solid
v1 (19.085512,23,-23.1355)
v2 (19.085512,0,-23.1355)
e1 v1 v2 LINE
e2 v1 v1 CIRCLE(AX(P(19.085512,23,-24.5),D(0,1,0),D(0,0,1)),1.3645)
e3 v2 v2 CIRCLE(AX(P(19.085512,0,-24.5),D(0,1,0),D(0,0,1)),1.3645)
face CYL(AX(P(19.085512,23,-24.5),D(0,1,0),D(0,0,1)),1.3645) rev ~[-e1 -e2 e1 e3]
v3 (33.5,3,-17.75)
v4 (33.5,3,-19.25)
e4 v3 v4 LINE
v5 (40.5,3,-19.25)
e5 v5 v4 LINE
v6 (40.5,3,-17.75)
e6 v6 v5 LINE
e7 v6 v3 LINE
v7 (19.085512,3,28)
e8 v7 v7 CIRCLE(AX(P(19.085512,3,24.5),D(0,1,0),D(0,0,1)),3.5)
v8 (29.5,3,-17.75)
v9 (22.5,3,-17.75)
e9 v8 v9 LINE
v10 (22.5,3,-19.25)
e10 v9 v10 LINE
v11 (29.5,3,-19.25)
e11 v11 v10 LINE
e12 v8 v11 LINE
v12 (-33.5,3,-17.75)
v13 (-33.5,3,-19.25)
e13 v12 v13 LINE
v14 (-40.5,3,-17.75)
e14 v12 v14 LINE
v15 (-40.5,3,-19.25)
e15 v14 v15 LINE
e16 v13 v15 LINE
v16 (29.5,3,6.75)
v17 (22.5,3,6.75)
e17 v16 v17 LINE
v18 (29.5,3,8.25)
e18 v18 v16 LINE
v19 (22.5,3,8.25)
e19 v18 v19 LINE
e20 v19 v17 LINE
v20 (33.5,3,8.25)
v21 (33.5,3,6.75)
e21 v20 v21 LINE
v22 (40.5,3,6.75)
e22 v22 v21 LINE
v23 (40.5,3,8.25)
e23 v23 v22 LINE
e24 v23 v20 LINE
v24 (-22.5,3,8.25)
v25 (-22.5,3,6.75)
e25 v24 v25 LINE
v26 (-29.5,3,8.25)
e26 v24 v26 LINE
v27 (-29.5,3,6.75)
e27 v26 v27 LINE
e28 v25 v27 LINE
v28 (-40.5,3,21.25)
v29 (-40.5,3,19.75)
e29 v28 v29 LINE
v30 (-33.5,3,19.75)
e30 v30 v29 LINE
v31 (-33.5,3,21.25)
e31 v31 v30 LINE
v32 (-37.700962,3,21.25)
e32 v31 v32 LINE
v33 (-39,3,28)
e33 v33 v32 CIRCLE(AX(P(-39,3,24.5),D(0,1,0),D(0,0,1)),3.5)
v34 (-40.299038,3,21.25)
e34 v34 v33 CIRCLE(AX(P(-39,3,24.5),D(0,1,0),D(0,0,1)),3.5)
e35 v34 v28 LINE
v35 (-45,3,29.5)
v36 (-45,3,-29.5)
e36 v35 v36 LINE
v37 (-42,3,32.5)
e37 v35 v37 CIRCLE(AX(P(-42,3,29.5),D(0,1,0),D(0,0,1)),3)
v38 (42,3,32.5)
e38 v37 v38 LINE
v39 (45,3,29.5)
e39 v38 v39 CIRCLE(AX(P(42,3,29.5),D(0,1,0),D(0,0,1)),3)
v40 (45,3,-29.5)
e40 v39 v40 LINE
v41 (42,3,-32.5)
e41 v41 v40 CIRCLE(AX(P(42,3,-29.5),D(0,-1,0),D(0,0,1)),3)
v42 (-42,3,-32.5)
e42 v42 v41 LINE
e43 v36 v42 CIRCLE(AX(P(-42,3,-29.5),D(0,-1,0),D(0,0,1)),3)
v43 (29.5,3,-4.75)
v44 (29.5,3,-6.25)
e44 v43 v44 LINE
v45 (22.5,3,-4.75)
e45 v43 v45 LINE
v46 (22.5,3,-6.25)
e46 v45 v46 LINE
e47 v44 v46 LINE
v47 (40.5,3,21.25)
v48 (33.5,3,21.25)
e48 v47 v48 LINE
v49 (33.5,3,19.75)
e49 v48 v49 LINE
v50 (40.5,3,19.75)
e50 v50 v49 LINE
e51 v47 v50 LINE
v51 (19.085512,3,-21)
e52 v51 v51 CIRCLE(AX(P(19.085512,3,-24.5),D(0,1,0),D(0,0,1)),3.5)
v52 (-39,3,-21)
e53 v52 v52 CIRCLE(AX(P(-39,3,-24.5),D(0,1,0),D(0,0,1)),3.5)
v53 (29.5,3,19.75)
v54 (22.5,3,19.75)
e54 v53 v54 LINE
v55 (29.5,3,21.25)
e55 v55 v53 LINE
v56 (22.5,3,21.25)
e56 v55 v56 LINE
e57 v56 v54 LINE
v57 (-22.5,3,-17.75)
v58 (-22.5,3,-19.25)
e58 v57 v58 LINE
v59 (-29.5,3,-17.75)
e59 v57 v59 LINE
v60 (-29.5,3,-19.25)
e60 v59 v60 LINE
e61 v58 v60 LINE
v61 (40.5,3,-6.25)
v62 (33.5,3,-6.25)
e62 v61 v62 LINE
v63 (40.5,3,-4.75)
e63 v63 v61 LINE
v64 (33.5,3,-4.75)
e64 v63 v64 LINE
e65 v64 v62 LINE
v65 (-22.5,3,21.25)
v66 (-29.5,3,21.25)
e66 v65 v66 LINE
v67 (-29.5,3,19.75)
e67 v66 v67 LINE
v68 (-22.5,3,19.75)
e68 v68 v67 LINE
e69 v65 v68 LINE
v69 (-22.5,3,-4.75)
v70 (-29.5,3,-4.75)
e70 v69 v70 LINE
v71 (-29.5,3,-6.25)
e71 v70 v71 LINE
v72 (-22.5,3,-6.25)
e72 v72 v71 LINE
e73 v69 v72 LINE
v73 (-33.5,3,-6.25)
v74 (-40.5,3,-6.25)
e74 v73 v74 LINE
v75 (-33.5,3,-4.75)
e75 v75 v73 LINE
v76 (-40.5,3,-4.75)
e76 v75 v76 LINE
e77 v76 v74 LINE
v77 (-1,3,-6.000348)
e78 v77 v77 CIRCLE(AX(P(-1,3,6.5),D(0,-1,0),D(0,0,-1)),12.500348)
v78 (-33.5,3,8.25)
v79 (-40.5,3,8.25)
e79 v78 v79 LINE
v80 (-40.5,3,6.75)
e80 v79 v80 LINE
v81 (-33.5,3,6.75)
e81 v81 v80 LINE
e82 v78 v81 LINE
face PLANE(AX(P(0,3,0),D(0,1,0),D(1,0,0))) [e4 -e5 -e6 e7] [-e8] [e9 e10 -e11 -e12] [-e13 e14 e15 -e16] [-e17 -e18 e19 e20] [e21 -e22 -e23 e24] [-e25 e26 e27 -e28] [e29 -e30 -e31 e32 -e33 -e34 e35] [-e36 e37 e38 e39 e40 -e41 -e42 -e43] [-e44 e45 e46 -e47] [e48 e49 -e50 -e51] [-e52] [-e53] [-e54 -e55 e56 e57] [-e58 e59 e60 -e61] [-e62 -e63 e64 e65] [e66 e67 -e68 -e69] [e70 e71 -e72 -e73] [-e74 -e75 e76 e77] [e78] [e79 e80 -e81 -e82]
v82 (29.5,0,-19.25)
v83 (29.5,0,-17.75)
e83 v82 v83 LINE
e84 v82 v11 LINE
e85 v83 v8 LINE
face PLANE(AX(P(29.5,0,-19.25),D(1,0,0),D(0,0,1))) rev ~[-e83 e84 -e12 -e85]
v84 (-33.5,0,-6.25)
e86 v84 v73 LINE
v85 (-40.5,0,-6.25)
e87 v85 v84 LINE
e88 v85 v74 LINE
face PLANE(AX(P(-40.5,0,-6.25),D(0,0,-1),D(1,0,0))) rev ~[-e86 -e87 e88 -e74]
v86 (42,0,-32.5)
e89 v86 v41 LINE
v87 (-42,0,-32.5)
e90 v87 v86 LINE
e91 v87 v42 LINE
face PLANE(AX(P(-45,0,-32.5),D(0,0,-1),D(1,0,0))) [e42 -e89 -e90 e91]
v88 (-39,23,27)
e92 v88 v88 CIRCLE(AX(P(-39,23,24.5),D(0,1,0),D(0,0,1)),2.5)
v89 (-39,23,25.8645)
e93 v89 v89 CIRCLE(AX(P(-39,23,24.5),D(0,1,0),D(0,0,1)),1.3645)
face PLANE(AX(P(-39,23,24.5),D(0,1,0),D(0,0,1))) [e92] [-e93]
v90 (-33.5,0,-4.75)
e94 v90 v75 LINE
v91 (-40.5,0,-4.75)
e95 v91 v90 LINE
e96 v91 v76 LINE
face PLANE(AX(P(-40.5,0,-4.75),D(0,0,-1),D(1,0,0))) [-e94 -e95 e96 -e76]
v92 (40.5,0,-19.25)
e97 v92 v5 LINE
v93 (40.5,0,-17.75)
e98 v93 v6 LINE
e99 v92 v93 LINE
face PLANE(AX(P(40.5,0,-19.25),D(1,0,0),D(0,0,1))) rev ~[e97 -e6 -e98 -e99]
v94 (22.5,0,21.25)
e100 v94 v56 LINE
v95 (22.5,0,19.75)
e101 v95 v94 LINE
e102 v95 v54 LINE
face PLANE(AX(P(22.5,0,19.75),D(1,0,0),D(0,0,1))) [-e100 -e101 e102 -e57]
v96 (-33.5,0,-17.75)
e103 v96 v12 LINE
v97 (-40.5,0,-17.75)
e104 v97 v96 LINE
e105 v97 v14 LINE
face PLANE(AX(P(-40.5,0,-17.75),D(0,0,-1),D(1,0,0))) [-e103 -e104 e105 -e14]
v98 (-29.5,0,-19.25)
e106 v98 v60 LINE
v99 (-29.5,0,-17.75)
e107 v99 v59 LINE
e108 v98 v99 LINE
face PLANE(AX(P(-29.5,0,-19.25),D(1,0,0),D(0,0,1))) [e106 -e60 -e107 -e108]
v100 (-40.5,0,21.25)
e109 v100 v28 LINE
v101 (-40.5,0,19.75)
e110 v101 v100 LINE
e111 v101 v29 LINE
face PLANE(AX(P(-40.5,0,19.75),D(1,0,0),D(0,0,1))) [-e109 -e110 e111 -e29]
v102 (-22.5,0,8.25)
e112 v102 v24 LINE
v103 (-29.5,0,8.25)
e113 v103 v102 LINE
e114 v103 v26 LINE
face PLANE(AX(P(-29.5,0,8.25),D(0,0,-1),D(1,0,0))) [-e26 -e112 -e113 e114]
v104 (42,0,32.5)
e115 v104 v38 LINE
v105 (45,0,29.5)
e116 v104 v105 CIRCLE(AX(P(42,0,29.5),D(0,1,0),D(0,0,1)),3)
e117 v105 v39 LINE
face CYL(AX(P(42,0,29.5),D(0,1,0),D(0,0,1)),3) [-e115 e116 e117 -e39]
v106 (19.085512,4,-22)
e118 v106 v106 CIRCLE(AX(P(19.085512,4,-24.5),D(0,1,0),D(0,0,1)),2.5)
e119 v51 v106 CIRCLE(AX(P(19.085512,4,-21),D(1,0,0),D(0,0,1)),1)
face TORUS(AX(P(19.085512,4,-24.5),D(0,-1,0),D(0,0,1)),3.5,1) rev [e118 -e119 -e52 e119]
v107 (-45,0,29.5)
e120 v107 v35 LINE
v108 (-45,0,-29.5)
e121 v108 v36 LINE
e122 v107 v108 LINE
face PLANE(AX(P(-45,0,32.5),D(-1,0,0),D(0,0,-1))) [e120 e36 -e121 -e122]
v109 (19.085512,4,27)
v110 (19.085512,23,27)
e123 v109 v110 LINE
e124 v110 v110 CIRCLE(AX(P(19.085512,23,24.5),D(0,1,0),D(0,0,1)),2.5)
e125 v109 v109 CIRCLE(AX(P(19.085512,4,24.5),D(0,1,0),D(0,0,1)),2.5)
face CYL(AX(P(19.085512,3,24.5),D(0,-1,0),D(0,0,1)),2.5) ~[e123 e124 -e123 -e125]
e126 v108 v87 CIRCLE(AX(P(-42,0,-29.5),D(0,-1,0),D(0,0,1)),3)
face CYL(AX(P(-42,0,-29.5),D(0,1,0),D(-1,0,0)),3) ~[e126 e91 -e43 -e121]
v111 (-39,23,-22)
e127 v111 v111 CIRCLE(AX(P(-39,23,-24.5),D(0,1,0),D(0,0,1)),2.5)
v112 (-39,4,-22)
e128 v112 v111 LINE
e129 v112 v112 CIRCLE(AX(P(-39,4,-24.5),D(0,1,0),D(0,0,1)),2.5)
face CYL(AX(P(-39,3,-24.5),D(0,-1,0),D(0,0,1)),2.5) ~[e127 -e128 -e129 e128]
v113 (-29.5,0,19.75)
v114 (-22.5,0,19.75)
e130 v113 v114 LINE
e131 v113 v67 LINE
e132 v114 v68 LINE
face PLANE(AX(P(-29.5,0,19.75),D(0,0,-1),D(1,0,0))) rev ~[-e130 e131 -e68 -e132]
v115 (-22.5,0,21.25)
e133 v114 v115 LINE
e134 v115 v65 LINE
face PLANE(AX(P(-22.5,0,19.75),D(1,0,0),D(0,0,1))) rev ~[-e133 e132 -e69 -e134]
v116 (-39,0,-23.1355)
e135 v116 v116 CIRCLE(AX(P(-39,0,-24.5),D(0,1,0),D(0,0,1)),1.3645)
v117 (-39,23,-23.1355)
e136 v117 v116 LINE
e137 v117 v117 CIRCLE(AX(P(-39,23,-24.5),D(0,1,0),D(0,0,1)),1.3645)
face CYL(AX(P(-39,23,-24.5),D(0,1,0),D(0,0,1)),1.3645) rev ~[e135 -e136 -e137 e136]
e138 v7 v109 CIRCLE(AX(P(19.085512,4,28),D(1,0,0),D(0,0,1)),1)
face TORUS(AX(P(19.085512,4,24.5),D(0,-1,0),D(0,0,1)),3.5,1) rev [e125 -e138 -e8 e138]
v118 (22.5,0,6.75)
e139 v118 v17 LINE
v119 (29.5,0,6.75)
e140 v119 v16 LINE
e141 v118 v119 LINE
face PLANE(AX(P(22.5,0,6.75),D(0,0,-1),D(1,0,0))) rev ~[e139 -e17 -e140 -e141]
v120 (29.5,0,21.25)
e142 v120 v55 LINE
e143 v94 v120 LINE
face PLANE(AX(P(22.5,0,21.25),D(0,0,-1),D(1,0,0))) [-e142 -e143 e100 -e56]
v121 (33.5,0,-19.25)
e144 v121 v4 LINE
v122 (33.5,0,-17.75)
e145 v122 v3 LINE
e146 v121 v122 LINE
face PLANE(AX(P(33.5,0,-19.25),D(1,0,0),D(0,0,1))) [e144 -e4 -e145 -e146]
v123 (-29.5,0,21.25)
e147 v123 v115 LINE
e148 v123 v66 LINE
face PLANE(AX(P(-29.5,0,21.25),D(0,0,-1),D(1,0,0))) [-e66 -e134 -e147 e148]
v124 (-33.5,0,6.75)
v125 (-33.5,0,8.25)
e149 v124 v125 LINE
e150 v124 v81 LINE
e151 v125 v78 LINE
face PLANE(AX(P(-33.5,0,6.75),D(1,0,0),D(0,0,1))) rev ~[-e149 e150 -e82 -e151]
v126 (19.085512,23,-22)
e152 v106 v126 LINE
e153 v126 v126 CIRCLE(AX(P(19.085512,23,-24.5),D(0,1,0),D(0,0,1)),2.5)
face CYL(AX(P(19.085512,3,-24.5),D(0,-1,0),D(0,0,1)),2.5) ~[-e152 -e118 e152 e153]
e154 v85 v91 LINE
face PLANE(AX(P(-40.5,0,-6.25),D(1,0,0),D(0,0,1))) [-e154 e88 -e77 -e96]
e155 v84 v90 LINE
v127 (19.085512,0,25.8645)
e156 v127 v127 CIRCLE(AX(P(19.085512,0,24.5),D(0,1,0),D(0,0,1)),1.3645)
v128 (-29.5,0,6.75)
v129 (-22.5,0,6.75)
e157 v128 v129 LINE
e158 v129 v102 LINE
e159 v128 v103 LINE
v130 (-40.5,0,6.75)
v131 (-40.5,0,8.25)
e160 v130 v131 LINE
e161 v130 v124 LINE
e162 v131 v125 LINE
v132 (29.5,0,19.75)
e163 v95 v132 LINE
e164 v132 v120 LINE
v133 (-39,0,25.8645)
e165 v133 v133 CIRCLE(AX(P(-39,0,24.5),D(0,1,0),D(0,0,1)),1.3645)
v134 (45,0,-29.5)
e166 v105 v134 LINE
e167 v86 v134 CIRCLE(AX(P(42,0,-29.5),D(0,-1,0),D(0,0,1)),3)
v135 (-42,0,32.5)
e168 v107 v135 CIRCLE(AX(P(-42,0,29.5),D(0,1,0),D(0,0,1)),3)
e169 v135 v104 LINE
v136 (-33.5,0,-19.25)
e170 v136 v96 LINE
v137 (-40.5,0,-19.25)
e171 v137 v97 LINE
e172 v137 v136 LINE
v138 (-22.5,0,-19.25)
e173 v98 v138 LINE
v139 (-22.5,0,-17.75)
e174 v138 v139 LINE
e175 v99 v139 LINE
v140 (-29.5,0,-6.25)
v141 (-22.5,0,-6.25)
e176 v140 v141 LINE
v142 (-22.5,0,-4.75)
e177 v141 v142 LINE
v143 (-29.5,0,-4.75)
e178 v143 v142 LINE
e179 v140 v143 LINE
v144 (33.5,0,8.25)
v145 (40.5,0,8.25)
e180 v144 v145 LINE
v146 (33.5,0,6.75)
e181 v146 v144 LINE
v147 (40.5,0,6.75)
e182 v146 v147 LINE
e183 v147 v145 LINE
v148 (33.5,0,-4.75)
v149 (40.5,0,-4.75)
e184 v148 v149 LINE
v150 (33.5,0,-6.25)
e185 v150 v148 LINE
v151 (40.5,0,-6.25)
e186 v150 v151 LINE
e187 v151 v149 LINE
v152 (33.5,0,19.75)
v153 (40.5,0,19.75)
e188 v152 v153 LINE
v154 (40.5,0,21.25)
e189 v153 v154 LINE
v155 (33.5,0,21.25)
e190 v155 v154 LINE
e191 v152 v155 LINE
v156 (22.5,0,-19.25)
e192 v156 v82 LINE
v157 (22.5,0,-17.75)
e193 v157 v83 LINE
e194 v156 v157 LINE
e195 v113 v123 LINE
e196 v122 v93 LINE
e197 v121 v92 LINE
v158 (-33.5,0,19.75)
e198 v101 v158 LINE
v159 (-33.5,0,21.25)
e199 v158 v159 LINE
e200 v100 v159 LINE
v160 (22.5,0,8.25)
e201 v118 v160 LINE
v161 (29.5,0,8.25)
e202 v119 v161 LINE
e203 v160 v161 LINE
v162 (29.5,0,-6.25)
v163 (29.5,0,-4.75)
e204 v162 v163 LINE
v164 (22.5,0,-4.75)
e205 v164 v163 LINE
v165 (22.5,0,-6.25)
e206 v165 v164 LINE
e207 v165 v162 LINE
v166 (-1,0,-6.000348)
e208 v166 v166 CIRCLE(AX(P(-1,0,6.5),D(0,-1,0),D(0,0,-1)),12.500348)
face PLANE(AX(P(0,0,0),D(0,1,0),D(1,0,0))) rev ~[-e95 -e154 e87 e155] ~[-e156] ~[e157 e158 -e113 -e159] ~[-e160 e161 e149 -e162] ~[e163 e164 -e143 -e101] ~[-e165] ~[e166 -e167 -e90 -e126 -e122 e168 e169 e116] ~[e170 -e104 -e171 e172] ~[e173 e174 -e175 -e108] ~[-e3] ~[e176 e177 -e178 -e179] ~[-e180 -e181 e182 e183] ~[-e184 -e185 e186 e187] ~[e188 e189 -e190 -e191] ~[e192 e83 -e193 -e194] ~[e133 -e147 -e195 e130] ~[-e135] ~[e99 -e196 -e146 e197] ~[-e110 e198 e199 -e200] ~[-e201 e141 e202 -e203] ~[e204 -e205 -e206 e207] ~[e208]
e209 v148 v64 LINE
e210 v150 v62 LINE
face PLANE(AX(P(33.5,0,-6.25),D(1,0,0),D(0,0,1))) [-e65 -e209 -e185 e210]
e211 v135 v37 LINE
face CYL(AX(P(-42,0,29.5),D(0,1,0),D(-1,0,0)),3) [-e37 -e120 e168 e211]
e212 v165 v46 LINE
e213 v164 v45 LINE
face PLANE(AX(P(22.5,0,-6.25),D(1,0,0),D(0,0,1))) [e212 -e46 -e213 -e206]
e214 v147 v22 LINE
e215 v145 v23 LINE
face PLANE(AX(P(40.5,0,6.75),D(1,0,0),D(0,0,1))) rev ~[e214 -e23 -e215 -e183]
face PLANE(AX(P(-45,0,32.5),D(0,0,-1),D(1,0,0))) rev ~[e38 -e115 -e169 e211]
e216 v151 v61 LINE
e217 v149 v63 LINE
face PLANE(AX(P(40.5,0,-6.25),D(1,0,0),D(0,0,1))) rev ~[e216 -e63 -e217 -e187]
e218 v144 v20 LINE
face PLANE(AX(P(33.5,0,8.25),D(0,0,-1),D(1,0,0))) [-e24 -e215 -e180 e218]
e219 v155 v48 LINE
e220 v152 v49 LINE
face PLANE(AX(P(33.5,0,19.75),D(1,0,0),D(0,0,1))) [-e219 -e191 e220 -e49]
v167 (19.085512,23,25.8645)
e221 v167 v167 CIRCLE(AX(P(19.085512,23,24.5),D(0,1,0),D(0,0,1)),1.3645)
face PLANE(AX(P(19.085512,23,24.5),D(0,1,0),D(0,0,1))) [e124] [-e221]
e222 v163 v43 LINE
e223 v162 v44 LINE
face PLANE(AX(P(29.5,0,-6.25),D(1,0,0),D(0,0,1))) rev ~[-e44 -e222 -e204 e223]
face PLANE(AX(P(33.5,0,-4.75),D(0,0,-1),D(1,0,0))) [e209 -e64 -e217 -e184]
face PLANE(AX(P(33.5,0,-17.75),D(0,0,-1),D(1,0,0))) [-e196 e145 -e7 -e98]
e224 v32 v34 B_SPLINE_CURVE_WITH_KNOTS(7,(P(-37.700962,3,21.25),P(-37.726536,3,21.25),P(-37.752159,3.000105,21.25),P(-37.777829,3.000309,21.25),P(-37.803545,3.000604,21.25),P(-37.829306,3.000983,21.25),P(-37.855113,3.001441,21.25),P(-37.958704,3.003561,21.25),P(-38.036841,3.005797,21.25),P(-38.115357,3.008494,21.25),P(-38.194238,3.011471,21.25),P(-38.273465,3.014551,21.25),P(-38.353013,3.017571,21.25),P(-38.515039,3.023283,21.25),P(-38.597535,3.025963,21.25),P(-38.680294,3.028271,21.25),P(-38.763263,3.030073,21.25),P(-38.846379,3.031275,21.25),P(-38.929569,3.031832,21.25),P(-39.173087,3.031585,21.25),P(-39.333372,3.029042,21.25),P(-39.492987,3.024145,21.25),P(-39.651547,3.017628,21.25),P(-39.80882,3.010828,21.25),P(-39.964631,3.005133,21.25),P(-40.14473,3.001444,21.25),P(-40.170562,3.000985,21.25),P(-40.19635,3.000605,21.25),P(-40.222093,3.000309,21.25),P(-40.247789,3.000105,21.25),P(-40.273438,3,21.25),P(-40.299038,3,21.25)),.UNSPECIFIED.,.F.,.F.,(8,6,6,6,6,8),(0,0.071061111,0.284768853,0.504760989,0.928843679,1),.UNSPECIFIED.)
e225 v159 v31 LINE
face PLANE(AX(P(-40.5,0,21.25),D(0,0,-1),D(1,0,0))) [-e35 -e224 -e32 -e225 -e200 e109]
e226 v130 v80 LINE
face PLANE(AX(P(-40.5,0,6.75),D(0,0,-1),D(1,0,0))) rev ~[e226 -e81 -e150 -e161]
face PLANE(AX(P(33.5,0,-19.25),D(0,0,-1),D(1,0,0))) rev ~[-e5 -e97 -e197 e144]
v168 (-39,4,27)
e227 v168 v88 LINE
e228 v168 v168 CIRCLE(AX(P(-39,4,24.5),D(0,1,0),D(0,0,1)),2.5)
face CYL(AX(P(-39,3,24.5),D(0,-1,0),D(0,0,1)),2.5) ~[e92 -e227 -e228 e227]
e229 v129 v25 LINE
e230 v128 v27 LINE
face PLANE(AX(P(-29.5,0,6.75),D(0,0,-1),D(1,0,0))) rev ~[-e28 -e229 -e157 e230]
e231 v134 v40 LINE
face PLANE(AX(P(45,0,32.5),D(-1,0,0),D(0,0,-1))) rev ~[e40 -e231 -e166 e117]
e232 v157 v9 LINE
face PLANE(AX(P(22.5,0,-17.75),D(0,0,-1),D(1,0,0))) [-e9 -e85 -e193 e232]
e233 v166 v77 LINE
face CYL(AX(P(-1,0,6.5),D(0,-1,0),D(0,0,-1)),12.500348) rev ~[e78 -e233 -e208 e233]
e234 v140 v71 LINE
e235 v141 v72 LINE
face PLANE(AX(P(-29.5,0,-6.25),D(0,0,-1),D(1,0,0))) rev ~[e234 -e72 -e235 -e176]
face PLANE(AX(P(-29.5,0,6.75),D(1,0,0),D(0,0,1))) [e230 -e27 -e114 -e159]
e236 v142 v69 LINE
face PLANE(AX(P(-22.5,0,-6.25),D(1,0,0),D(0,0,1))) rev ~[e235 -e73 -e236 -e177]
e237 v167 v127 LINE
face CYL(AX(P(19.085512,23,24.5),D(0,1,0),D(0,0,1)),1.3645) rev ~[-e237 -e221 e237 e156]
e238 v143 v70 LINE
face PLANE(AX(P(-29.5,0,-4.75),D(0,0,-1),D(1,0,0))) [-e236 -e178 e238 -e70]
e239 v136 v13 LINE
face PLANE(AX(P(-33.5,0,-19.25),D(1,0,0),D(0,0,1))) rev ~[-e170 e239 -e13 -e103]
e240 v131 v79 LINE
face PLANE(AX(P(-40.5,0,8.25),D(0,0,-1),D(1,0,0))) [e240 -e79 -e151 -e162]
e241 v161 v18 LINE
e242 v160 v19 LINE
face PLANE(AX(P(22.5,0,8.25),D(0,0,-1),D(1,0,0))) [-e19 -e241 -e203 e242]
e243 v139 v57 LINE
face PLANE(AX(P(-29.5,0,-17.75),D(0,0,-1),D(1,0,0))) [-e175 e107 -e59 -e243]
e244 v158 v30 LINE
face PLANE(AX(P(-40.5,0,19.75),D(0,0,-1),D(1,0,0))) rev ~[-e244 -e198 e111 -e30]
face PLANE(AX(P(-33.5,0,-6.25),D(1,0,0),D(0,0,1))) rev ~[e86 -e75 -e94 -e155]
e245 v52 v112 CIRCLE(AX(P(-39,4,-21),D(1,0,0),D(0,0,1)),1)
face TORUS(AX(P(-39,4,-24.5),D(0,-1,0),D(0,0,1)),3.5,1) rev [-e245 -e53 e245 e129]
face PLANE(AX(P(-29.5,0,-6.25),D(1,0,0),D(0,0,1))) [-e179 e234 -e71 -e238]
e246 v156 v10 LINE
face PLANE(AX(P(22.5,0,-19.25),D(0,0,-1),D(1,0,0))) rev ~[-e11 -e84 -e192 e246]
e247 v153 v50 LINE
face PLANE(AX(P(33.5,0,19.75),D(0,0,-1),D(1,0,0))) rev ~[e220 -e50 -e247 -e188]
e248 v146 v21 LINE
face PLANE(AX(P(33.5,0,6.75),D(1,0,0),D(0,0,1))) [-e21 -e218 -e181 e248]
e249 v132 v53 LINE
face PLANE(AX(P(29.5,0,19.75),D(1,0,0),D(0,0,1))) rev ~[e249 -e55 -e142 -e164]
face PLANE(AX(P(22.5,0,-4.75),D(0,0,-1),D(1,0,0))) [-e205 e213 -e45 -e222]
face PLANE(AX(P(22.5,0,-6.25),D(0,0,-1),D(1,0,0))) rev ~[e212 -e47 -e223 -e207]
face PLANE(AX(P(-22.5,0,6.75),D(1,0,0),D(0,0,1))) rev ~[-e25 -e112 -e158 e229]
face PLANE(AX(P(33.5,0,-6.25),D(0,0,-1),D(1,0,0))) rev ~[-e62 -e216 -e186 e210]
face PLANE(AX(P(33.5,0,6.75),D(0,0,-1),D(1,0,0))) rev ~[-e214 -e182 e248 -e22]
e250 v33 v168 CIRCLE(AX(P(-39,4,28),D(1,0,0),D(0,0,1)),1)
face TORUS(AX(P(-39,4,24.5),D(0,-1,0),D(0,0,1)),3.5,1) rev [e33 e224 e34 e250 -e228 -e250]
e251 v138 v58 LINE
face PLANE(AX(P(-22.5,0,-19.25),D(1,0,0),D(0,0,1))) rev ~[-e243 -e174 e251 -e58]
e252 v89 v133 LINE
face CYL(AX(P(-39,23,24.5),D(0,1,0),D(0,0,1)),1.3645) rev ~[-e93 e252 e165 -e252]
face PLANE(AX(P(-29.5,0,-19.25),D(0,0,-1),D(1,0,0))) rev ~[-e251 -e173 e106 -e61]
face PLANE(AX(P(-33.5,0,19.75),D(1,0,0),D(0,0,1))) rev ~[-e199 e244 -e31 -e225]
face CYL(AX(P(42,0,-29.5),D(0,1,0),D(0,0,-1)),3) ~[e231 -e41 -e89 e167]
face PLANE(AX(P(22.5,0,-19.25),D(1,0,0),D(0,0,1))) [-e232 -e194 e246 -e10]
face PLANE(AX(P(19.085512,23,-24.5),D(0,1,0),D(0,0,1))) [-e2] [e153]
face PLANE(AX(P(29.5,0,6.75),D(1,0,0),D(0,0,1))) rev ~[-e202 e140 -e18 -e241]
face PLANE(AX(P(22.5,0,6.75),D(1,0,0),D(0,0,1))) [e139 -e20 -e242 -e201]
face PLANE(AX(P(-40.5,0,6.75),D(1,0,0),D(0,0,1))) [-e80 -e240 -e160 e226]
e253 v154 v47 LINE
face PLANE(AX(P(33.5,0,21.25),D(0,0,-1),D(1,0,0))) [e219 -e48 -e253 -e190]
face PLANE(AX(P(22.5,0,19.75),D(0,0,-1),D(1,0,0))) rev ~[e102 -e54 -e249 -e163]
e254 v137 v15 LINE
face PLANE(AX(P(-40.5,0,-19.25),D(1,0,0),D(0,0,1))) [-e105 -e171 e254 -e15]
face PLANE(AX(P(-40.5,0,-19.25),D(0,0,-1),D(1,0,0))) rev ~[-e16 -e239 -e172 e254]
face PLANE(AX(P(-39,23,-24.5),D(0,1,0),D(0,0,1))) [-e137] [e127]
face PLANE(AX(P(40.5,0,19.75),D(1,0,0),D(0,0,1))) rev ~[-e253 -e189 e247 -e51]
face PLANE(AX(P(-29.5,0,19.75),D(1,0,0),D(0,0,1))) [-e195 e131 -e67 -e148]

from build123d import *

# Parameters (mm, degrees)
SKIZZE1_W                       = 90
SKIZZE1_H                       = 65
AUFSATZ_LINEAR_AUSTRAGEN1_DEPTH = 3
SKIZZE3_R                       = 2.5
AUFSATZ_LINEAR_AUSTRAGEN2_DEPTH = 20
SKIZZE4_R                       = 1.364499713
SCHNITT_LINEAR_AUSTRAGEN2_DEPTH = 61.085355953
VERRUNDUNG1_R                   = 3
VERRUNDUNG2_R                   = 1
SKIZZE5_R                       = 12.500347999
SCHNITT_LINEAR_AUSTRAGEN3_DEPTH = 61.085355953
SKIZZE6_W                       = 7
SKIZZE6_H                       = 1.5
SCHNITT_LINEAR_AUSTRAGEN4_DEPTH = 61.085355953
LINEARES_MUSTER1_COUNT          = 4
LINEARES_MUSTER1_PITCH          = 13


with BuildPart() as part:
    # Skizze1 → Aufsatz-Linear austragen1 (new body)
    with BuildSketch(Plane(origin=(0, 0, 0), x_dir=(1, 0, 0), z_dir=(0, 1, 0))):
        Rectangle(SKIZZE1_W, SKIZZE1_H)
    extrude(amount=AUFSATZ_LINEAR_AUSTRAGEN1_DEPTH)

    # Skizze3 → Aufsatz-Linear austragen2 (add)
    with BuildSketch(Plane(origin=(0, 3, 0), x_dir=(1, 0, 0), z_dir=(0, 1, 0))):
        with Locations(Location((-39, 24.5, 0), (0, 0, 270))):
            Circle(SKIZZE3_R)
        with Locations(Location((19.085512482, 24.5, 0), (0, 0, 270))):
            Circle(SKIZZE3_R)
        with Locations(Location((19.085512482, -24.5, 0), (0, 0, 270))):
            Circle(SKIZZE3_R)
        with Locations(Location((-39, -24.5, 0), (0, 0, 270))):
            Circle(SKIZZE3_R)
    extrude(amount=AUFSATZ_LINEAR_AUSTRAGEN2_DEPTH)

    # Skizze4 → Schnitt-Linear austragen2 (cut, through all)
    with BuildSketch(Plane(origin=(0, 23, 0), x_dir=(1, 0, 0), z_dir=(0, 1, 0))):
        with Locations(Location((19.085512482, 24.5, 0), (0, 0, 270))):
            Circle(SKIZZE4_R)
        with Locations(Location((-39, 24.5, 0), (0, 0, 270))):
            Circle(SKIZZE4_R)
        with Locations(Location((-39, -24.5, 0), (0, 0, 270))):
            Circle(SKIZZE4_R)
        with Locations(Location((19.085512482, -24.5, 0), (0, 0, 270))):
            Circle(SKIZZE4_R)
    extrude(amount=-SCHNITT_LINEAR_AUSTRAGEN2_DEPTH, mode=Mode.SUBTRACT)

    # Verrundung1
    verrundung1_edges = [part.edges().sort_by_distance(p)[0] for p in [
        (-45, 1.5, 32.5),
        (-45, 1.5, -32.5),
        (45, 1.5, -32.5),
        (45, 1.5, 32.5),
    ]]
    fillet(verrundung1_edges, radius=VERRUNDUNG1_R)

    # Verrundung2
    verrundung2_edges = [part.edges().sort_by_distance(p)[0] for p in [
        (-39, 3, -27),
        (19.085512482, 3, -27),
        (19.085512482, 3, 22),
        (-39, 3, 22),
    ]]
    fillet(verrundung2_edges, radius=VERRUNDUNG2_R)

    # Skizze5 → Schnitt-Linear austragen3 (cut, through all)
    with BuildSketch(Plane.XZ):
        with Locations(Location((-1, 6.5, 0), (0, 0, 270))):
            Circle(SKIZZE5_R)
    extrude(amount=-SCHNITT_LINEAR_AUSTRAGEN3_DEPTH, mode=Mode.SUBTRACT)

    # Skizze6 → Schnitt-Linear austragen4 (cut, through all)
    with BuildSketch(Plane.XZ):
        with Locations((-37, 20.5)):
            Rectangle(SKIZZE6_W, SKIZZE6_H)
        with Locations((-26, 20.5)):
            Rectangle(SKIZZE6_W, SKIZZE6_H)
        with Locations((26, 20.5)):
            Rectangle(SKIZZE6_W, SKIZZE6_H)
        with Locations((37, 20.5)):
            Rectangle(SKIZZE6_W, SKIZZE6_H)
    schnitt_linear_austragen4 = extrude(amount=-SCHNITT_LINEAR_AUSTRAGEN4_DEPTH, mode=Mode.SUBTRACT)

    # Lineares Muster1: Schnitt-Linear austragen4 ×4
    with Locations(*[(0, 0, -i * LINEARES_MUSTER1_PITCH) for i in range(1, LINEARES_MUSTER1_COUNT)]):
        add(schnitt_linear_austragen4, mode=Mode.SUBTRACT)


solid = part.part
